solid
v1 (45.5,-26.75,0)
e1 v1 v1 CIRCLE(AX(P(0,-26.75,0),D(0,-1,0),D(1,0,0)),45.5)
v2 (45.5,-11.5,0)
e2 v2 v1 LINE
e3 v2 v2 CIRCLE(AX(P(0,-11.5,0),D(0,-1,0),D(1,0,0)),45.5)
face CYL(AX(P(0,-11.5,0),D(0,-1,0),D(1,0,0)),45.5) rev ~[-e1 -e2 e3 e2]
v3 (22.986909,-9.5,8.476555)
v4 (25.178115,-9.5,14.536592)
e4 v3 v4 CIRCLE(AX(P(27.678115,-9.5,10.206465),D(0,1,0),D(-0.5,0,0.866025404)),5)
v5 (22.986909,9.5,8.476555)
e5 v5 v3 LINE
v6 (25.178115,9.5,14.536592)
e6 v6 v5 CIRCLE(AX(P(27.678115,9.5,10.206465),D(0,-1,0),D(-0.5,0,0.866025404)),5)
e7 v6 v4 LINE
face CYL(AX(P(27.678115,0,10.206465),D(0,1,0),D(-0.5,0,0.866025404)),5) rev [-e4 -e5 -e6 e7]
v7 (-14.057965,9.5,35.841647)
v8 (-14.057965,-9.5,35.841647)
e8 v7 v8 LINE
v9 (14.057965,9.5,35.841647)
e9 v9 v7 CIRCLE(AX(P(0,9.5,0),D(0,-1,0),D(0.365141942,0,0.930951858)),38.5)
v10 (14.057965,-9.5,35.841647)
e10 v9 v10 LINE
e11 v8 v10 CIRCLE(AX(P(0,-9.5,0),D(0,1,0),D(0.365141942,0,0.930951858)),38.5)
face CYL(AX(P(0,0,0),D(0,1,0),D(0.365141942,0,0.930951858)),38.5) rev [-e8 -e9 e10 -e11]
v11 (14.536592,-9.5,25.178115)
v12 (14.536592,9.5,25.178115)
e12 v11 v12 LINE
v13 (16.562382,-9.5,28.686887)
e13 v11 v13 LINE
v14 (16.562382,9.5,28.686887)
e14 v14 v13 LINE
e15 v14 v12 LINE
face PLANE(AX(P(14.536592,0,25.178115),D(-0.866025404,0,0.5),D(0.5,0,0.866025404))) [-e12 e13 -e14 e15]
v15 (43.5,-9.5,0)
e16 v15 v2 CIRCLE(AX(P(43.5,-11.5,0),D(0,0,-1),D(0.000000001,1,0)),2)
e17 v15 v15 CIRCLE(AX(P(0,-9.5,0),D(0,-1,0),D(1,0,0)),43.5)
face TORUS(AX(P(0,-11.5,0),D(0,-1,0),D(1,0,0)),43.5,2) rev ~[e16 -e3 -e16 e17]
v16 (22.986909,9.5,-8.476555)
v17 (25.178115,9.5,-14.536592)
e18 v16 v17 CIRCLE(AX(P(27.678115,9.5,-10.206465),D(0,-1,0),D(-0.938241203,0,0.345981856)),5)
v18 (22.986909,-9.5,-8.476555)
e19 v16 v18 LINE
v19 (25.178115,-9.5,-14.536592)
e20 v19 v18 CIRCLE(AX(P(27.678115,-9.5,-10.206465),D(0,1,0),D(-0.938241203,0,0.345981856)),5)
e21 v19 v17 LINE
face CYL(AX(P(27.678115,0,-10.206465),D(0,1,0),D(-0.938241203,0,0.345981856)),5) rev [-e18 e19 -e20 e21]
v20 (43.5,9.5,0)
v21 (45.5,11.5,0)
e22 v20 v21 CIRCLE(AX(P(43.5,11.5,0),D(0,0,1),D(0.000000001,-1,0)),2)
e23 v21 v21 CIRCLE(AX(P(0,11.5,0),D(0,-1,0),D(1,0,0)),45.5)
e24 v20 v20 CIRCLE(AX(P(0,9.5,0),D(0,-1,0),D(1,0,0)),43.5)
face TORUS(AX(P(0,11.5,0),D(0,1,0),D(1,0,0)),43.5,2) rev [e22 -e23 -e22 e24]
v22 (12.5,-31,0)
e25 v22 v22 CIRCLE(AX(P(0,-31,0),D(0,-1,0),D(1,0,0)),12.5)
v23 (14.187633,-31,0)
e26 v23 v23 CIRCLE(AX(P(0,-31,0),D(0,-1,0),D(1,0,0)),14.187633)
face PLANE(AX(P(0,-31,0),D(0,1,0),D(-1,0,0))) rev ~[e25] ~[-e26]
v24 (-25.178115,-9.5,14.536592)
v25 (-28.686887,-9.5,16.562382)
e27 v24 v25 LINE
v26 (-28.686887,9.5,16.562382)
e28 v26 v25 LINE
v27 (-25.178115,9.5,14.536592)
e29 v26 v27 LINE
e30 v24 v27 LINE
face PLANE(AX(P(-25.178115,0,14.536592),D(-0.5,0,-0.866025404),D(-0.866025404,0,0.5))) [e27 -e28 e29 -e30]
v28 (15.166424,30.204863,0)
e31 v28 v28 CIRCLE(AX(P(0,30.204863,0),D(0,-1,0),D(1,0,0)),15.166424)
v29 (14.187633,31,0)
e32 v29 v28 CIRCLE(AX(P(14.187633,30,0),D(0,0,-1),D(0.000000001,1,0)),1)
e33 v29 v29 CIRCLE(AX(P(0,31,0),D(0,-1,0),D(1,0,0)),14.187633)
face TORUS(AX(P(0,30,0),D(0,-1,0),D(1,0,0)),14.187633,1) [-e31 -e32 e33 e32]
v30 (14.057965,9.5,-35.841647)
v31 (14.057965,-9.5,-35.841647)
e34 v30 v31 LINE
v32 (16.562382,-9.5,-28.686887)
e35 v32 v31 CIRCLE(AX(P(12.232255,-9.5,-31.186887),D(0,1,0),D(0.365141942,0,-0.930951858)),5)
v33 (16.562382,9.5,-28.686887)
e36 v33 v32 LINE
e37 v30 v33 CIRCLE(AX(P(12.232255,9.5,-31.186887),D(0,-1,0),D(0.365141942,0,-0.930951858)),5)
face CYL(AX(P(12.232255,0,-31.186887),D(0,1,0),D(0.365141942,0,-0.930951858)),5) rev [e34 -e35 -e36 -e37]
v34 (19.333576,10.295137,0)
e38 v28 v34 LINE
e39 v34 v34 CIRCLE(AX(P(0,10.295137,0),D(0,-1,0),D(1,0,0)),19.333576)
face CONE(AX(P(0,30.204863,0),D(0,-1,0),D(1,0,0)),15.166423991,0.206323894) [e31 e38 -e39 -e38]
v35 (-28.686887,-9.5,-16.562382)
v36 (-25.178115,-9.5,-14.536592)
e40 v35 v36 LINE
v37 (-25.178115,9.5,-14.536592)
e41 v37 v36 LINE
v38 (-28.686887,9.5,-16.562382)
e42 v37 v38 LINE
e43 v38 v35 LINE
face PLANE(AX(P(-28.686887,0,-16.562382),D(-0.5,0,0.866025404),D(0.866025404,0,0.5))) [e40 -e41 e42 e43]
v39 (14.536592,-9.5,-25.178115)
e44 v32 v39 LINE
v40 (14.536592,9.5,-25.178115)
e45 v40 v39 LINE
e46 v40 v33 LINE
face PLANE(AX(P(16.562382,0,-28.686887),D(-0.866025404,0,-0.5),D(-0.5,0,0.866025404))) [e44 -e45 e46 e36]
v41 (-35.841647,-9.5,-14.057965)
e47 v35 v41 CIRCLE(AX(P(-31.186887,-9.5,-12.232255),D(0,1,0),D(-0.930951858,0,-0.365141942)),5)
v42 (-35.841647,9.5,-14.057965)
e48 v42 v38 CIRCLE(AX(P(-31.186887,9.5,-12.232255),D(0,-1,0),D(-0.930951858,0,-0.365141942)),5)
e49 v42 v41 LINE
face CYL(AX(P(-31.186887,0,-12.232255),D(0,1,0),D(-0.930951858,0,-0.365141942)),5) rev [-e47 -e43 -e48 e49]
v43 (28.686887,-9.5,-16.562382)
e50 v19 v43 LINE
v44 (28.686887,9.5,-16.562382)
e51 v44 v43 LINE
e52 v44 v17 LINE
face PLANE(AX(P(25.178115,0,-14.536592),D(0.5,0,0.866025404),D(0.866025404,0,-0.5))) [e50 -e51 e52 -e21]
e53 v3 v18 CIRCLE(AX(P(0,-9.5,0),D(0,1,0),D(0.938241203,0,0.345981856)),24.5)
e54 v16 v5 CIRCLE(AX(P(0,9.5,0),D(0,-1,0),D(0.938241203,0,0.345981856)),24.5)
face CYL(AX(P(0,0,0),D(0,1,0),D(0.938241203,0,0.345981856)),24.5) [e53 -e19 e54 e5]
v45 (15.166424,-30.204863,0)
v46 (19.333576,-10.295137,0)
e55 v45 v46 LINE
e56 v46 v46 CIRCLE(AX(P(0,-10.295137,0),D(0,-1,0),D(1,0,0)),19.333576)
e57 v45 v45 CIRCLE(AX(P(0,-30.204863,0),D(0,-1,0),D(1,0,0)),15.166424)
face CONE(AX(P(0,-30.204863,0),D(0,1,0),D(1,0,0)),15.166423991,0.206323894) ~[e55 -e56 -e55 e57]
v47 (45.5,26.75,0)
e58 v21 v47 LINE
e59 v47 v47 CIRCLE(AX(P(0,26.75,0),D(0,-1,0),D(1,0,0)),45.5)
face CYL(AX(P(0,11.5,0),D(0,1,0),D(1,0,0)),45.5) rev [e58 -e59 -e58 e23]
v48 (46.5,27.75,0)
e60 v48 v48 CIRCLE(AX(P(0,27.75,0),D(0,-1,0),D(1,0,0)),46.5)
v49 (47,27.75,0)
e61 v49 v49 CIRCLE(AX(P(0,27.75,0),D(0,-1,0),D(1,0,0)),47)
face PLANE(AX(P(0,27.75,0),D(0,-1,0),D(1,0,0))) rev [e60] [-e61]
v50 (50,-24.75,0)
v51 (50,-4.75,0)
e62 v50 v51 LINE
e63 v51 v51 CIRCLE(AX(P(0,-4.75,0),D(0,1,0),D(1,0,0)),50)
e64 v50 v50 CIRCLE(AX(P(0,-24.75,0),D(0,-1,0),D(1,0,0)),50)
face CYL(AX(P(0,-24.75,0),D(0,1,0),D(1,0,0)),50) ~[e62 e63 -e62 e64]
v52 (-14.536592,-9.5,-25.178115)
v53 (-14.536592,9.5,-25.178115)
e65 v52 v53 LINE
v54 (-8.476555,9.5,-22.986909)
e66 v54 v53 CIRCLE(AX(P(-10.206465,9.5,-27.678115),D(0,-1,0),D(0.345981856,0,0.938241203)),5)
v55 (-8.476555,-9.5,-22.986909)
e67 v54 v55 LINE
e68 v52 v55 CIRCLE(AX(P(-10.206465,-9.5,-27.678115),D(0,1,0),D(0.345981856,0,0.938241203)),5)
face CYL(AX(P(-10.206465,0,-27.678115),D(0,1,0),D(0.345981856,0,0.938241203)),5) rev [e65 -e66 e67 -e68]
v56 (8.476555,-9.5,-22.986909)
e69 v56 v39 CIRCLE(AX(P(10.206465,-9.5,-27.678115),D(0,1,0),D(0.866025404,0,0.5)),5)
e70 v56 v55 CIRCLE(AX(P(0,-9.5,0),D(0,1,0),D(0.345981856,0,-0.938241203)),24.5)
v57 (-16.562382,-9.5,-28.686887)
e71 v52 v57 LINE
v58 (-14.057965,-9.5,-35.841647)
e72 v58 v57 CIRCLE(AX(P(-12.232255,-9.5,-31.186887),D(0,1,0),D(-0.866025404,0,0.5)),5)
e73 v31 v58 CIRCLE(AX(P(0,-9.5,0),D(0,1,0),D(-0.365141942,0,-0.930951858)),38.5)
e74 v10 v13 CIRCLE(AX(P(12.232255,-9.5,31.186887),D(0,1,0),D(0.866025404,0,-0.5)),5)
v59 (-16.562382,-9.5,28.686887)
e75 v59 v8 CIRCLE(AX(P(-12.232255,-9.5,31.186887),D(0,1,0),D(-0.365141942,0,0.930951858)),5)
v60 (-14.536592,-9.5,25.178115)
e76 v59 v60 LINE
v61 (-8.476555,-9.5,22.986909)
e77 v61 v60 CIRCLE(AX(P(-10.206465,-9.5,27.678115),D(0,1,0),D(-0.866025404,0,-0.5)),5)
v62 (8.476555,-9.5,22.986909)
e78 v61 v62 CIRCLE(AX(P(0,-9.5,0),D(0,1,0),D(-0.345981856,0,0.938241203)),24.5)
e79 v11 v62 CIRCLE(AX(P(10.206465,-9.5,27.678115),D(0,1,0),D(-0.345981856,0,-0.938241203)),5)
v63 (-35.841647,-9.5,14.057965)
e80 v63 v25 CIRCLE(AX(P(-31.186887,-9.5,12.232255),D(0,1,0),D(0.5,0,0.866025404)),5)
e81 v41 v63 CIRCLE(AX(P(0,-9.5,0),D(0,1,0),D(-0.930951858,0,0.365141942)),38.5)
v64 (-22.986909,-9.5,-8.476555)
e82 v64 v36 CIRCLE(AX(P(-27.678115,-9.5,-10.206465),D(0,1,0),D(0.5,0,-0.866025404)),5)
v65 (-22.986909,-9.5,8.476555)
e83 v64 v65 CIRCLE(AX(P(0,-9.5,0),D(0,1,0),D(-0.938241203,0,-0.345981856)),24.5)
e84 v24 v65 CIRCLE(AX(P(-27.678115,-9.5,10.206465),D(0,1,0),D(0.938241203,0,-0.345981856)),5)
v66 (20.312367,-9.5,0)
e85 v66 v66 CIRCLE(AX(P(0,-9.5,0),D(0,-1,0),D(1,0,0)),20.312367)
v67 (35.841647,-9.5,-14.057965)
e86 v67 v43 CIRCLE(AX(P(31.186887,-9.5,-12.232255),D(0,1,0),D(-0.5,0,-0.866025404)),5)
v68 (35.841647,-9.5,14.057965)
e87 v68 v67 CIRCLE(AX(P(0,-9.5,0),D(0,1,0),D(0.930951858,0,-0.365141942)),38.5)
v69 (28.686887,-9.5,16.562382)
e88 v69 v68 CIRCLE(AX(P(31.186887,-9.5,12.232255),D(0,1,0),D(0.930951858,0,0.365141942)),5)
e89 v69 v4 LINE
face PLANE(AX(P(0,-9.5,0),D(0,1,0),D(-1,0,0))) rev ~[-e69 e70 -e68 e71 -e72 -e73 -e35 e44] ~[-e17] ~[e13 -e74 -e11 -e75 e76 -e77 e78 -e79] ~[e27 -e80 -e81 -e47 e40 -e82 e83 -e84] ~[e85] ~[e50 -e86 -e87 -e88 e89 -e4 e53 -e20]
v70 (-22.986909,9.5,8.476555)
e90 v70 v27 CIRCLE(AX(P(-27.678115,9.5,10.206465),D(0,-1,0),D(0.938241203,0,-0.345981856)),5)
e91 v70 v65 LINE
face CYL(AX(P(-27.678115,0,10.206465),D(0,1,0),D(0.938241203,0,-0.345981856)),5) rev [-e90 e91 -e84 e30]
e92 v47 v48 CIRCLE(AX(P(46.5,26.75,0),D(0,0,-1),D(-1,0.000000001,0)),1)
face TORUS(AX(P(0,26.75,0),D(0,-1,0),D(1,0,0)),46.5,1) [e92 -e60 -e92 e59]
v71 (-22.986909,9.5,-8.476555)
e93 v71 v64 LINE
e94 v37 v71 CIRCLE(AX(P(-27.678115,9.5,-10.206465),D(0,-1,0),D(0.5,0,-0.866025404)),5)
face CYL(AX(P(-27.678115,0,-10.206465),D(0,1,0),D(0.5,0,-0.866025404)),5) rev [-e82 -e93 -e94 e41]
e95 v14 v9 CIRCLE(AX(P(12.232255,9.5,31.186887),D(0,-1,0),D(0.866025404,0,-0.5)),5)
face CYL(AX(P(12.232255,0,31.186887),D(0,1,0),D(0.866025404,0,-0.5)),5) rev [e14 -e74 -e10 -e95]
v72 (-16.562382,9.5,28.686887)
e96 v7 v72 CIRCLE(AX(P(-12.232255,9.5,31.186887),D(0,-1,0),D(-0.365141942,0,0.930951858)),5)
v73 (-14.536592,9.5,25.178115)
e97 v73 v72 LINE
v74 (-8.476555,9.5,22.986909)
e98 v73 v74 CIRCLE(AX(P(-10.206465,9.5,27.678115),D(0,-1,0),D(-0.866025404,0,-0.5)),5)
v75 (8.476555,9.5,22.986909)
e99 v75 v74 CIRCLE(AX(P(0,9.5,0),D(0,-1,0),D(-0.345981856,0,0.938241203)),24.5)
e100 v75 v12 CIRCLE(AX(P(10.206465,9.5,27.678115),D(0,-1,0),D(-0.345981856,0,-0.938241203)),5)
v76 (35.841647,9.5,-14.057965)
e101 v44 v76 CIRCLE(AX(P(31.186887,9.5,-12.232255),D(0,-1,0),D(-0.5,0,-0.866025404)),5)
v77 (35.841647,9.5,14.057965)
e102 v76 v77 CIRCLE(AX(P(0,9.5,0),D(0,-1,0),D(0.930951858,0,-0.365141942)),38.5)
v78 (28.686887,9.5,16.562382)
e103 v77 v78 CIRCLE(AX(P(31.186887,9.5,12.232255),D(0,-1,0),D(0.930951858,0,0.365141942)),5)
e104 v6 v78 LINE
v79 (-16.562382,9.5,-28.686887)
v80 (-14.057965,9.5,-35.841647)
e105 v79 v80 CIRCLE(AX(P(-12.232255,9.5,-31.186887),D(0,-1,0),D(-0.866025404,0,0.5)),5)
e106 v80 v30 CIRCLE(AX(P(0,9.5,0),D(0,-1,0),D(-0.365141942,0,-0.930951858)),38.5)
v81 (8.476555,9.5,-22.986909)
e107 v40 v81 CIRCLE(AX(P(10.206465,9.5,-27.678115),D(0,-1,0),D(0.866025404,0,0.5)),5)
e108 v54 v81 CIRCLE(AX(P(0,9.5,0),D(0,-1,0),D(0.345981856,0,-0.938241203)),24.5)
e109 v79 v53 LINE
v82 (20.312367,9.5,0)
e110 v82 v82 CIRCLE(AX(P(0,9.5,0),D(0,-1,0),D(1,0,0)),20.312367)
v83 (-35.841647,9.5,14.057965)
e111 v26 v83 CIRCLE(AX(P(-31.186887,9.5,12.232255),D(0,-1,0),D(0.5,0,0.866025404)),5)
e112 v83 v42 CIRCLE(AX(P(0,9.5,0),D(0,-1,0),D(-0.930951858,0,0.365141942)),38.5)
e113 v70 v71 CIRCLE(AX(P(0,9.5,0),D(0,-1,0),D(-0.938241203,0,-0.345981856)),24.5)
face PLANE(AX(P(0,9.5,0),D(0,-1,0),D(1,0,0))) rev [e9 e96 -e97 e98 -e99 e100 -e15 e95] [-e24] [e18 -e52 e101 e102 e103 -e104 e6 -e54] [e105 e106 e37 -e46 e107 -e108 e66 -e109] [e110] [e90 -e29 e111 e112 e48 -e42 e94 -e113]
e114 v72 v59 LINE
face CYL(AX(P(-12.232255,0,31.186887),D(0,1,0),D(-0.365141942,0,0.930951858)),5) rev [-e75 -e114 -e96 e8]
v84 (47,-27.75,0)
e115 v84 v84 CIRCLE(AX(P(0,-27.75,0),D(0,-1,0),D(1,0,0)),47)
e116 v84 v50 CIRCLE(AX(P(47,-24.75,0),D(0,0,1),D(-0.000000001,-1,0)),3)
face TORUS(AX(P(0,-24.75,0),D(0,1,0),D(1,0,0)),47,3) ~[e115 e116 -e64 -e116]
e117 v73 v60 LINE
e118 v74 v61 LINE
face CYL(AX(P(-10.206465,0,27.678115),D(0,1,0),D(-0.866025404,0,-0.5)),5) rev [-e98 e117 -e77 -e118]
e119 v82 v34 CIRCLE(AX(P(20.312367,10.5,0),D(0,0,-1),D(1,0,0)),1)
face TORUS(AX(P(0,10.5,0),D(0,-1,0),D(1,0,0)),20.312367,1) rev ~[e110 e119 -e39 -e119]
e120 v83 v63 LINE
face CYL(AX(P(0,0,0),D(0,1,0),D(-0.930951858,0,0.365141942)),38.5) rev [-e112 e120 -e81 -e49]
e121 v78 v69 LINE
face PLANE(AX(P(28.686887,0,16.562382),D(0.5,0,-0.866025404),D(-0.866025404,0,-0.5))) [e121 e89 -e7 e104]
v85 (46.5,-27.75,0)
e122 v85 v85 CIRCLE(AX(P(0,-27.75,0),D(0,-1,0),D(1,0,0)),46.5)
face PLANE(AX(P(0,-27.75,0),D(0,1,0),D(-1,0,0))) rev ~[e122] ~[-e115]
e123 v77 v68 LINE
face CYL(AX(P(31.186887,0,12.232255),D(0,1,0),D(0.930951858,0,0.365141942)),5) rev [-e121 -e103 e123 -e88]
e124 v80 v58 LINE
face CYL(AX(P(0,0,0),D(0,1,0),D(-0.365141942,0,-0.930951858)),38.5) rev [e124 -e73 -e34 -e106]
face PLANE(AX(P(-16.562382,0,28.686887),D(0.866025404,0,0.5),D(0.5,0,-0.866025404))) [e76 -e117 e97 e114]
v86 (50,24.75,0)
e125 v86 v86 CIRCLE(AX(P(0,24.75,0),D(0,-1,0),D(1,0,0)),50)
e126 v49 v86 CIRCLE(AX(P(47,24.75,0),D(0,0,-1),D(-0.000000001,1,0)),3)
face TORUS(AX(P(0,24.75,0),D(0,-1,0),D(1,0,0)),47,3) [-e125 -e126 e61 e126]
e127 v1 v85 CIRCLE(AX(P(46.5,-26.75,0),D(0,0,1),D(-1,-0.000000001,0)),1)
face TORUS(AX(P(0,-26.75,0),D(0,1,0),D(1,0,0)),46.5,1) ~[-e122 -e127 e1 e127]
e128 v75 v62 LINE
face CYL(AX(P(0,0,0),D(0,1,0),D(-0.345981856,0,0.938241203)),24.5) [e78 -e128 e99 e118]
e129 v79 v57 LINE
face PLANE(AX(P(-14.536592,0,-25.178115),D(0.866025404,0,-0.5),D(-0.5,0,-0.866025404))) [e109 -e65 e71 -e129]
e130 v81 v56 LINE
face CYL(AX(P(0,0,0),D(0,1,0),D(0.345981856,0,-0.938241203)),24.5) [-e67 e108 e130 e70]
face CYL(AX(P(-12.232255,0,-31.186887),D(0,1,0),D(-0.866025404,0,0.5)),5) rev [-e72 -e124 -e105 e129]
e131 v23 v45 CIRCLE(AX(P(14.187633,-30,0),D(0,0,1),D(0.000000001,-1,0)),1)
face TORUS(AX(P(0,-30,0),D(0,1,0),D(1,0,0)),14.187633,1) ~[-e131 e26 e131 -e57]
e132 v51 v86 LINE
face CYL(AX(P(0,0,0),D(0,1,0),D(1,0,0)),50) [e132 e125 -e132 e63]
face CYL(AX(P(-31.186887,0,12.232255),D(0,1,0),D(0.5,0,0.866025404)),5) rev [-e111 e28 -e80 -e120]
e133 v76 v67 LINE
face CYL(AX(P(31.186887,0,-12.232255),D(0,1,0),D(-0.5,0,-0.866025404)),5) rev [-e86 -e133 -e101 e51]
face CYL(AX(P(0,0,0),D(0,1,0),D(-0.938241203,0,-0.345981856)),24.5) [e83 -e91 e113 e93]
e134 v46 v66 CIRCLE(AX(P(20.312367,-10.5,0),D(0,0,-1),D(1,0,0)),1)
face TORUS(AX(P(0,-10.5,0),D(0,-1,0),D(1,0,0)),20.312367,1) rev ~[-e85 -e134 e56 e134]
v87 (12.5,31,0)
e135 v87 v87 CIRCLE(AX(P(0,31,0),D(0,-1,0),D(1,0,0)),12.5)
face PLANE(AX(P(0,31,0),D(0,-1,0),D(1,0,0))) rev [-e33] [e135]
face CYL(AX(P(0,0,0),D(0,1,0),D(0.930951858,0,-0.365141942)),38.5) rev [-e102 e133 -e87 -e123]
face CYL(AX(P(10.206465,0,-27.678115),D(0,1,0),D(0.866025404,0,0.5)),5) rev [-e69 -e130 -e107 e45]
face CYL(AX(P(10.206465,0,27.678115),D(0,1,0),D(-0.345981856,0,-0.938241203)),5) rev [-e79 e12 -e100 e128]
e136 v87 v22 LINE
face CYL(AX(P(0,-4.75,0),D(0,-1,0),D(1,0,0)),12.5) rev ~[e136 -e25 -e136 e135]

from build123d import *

# Parameters (mm, degrees)
SKETCH_1_R               = 50
EXTRUDE_1_DEPTH          = 4.75
SKETCH_2_R               = 12.5
CUT_EXTRUDE_1_DEPTH      = 5.75
CUT_EXTRUDE_1_DEPTH_BACK = 5.75
SKETCH_9_R               = 12.5
CUT_EXTRUDE_2_DEPTH      = 32
CUT_EXTRUDE_2_DEPTH_BACK = 32
FILLET_1_R               = 1


with BuildPart() as part:
    # 스케치1 → 보스-돌출1 (new body, symmetric)
    with BuildSketch(Plane(origin=(0, 0, 0), x_dir=(1, 0, 0), z_dir=(0, 1, 0))):
        Circle(SKETCH_1_R)
    extrude(amount=EXTRUDE_1_DEPTH, both=True)

    # 스케치2 → 컷-돌출1 (cut, two sides)
    with BuildSketch(Plane(origin=(0, 0, 0), x_dir=(1, 0, 0), z_dir=(0, 1, 0))) as cut_extrude_1_sk:
        Circle(SKETCH_2_R)
        with BuildLine():
            Line((-14.53659176, 25.178115497), (-16.562382075, 28.686887248))
            ThreePointArc((-16.562382075, 28.686887248), (-16.951495099, 32.838787189), (-14.057964766, 35.841646539))
            ThreePointArc((-14.057964766, 35.841646539), (0, 38.5), (14.057964766, 35.841646539))
            ThreePointArc((14.057964766, 35.841646539), (16.951495099, 32.838787189), (16.562382075, 28.686887248))
            Line((16.562382075, 28.686887248), (14.53659176, 25.178115497))
            ThreePointArc((14.53659176, 25.178115497), (11.906649739, 22.976055207), (8.476555463, 22.986909481))
            ThreePointArc((8.476555463, 22.986909481), (0, 24.5), (-8.476555463, 22.986909481))
            ThreePointArc((-8.476555463, 22.986909481), (-11.906649739, 22.976055207), (-14.53659176, 25.178115497))
        make_face()
        with BuildLine():
            Line((25.178115497, 14.53659176), (28.686887248, 16.562382075))
            ThreePointArc((28.686887248, 16.562382075), (32.838787189, 16.951495099), (35.841646539, 14.057964766))
            ThreePointArc((35.841646539, 14.057964766), (38.5, 0), (35.841646539, -14.057964766))
            ThreePointArc((35.841646539, -14.057964766), (32.838787189, -16.951495099), (28.686887248, -16.562382075))
            Line((28.686887248, -16.562382075), (25.178115497, -14.53659176))
            ThreePointArc((25.178115497, -14.53659176), (22.976055207, -11.906649739), (22.986909481, -8.476555463))
            ThreePointArc((22.986909481, -8.476555463), (24.5, 0), (22.986909481, 8.476555463))
            ThreePointArc((22.986909481, 8.476555463), (22.976055207, 11.906649739), (25.178115497, 14.53659176))
        make_face()
        with BuildLine():
            Line((14.53659176, -25.178115497), (16.562382075, -28.686887248))
            ThreePointArc((16.562382075, -28.686887248), (16.951495099, -32.838787189), (14.057964766, -35.841646539))
            ThreePointArc((14.057964766, -35.841646539), (0, -38.5), (-14.057964766, -35.841646539))
            ThreePointArc((-14.057964766, -35.841646539), (-16.951495099, -32.838787189), (-16.562382075, -28.686887248))
            Line((-16.562382075, -28.686887248), (-14.53659176, -25.178115497))
            ThreePointArc((-14.53659176, -25.178115497), (-11.906649739, -22.976055207), (-8.476555463, -22.986909481))
            ThreePointArc((-8.476555463, -22.986909481), (0, -24.5), (8.476555463, -22.986909481))
            ThreePointArc((8.476555463, -22.986909481), (11.906649739, -22.976055207), (14.53659176, -25.178115497))
        make_face()
        with BuildLine():
            Line((-25.178115497, -14.53659176), (-28.686887248, -16.562382075))
            ThreePointArc((-28.686887248, -16.562382075), (-32.838787189, -16.951495099), (-35.841646539, -14.057964766))
            ThreePointArc((-35.841646539, -14.057964766), (-38.5, 0), (-35.841646539, 14.057964766))
            ThreePointArc((-35.841646539, 14.057964766), (-32.838787189, 16.951495099), (-28.686887248, 16.562382075))
            Line((-28.686887248, 16.562382075), (-25.178115497, 14.53659176))
            ThreePointArc((-25.178115497, 14.53659176), (-22.976055207, 11.906649739), (-22.986909481, 8.476555463))
            ThreePointArc((-22.986909481, 8.476555463), (-24.5, 0), (-22.986909481, -8.476555463))
            ThreePointArc((-22.986909481, -8.476555463), (-22.976055207, -11.906649739), (-25.178115497, -14.53659176))
        make_face()
    extrude(amount=CUT_EXTRUDE_1_DEPTH, mode=Mode.SUBTRACT)
    extrude(cut_extrude_1_sk.sketch, amount=-CUT_EXTRUDE_1_DEPTH_BACK, mode=Mode.SUBTRACT)

    # 스케치4 → 회전1 (revolve)
    with BuildSketch(Plane.XY):
        with BuildLine():
            Line((12.5, 31), (14.187633366, 31))
            ThreePointArc((14.187633366, 31), (14.818163637, 30.776164658), (15.166423991, 30.204863154))
            Line((15.166423991, 30.204863154), (19.5, 9.5))
            Line((19.5, 9.5), (43.5, 9.5))
            ThreePointArc((43.5, 9.5), (44.914213562, 10.085786438), (45.5, 11.5))
            Line((45.5, 11.5), (45.5, 26.75))
            ThreePointArc((45.5, 26.75), (45.792893219, 27.457106781), (46.5, 27.75))
            Line((46.5, 27.75), (47, 27.75))
            ThreePointArc((47, 27.75), (49.121320344, 26.871320344), (50, 24.75))
            Line((50, 24.75), (50, 4.75))
            Line((50, 4.75), (12.5, 4.75))
            Line((12.5, 4.75), (12.5, 31))
        make_face()
    revolve_1 = revolve(axis=Axis((0, 4.75, 0), (0, -1, 0)))

    # 대칭 복사1: 회전1 across plane
    add(revolve_1.mirror(Plane.ZX))

    # 스케치9 → 컷-돌출2 (cut, two sides)
    with BuildSketch(Plane(origin=(0, 0, 0), x_dir=(1, 0, 0), z_dir=(0, 1, 0))) as cut_extrude_2_sk:
        Circle(SKETCH_9_R)
        with BuildLine():
            Line((-14.53659176, 25.178115497), (-16.562382075, 28.686887248))
            ThreePointArc((-16.562382075, 28.686887248), (-16.951495099, 32.838787189), (-14.057964766, 35.841646539))
            ThreePointArc((-14.057964766, 35.841646539), (0, 38.5), (14.057964766, 35.841646539))
            ThreePointArc((14.057964766, 35.841646539), (16.951495099, 32.838787189), (16.562382075, 28.686887248))
            Line((16.562382075, 28.686887248), (14.53659176, 25.178115497))
            ThreePointArc((14.53659176, 25.178115497), (11.906649739, 22.976055207), (8.476555463, 22.986909481))
            ThreePointArc((8.476555463, 22.986909481), (0, 24.5), (-8.476555463, 22.986909481))
            ThreePointArc((-8.476555463, 22.986909481), (-11.906649739, 22.976055207), (-14.53659176, 25.178115497))
        make_face()
        with BuildLine():
            Line((25.178115497, 14.53659176), (28.686887248, 16.562382075))
            ThreePointArc((28.686887248, 16.562382075), (32.838787189, 16.951495099), (35.841646539, 14.057964766))
            ThreePointArc((35.841646539, 14.057964766), (38.5, 0), (35.841646539, -14.057964766))
            ThreePointArc((35.841646539, -14.057964766), (32.838787189, -16.951495099), (28.686887248, -16.562382075))
            Line((28.686887248, -16.562382075), (25.178115497, -14.53659176))
            ThreePointArc((25.178115497, -14.53659176), (22.976055207, -11.906649739), (22.986909481, -8.476555463))
            ThreePointArc((22.986909481, -8.476555463), (24.5, 0), (22.986909481, 8.476555463))
            ThreePointArc((22.986909481, 8.476555463), (22.976055207, 11.906649739), (25.178115497, 14.53659176))
        make_face()
        with BuildLine():
            Line((14.53659176, -25.178115497), (16.562382075, -28.686887248))
            ThreePointArc((16.562382075, -28.686887248), (16.951495099, -32.838787189), (14.057964766, -35.841646539))
            ThreePointArc((14.057964766, -35.841646539), (0, -38.5), (-14.057964766, -35.841646539))
            ThreePointArc((-14.057964766, -35.841646539), (-16.951495099, -32.838787189), (-16.562382075, -28.686887248))
            Line((-16.562382075, -28.686887248), (-14.53659176, -25.178115497))
            ThreePointArc((-14.53659176, -25.178115497), (-11.906649739, -22.976055207), (-8.476555463, -22.986909481))
            ThreePointArc((-8.476555463, -22.986909481), (0, -24.5), (8.476555463, -22.986909481))
            ThreePointArc((8.476555463, -22.986909481), (11.906649739, -22.976055207), (14.53659176, -25.178115497))
        make_face()
        with BuildLine():
            Line((-25.178115497, -14.53659176), (-28.686887248, -16.562382075))
            ThreePointArc((-28.686887248, -16.562382075), (-32.838787189, -16.951495099), (-35.841646539, -14.057964766))
            ThreePointArc((-35.841646539, -14.057964766), (-38.5, 0), (-35.841646539, 14.057964766))
            ThreePointArc((-35.841646539, 14.057964766), (-32.838787189, 16.951495099), (-28.686887248, 16.562382075))
            Line((-28.686887248, 16.562382075), (-25.178115497, 14.53659176))
            ThreePointArc((-25.178115497, 14.53659176), (-22.976055207, 11.906649739), (-22.986909481, 8.476555463))
            ThreePointArc((-22.986909481, 8.476555463), (-24.5, 0), (-22.986909481, -8.476555463))
            ThreePointArc((-22.986909481, -8.476555463), (-22.976055207, -11.906649739), (-25.178115497, -14.53659176))
        make_face()
    extrude(amount=CUT_EXTRUDE_2_DEPTH, mode=Mode.SUBTRACT)
    extrude(cut_extrude_2_sk.sketch, amount=-CUT_EXTRUDE_2_DEPTH_BACK, mode=Mode.SUBTRACT)

    # 필렛1
    fillet_1_edges = [part.edges().sort_by_distance(p)[0] for p in [
        (-19.5, 9.5, 0),
        (-19.5, -9.5, 0),
    ]]
    fillet(fillet_1_edges, radius=FILLET_1_R)


solid = part.part
